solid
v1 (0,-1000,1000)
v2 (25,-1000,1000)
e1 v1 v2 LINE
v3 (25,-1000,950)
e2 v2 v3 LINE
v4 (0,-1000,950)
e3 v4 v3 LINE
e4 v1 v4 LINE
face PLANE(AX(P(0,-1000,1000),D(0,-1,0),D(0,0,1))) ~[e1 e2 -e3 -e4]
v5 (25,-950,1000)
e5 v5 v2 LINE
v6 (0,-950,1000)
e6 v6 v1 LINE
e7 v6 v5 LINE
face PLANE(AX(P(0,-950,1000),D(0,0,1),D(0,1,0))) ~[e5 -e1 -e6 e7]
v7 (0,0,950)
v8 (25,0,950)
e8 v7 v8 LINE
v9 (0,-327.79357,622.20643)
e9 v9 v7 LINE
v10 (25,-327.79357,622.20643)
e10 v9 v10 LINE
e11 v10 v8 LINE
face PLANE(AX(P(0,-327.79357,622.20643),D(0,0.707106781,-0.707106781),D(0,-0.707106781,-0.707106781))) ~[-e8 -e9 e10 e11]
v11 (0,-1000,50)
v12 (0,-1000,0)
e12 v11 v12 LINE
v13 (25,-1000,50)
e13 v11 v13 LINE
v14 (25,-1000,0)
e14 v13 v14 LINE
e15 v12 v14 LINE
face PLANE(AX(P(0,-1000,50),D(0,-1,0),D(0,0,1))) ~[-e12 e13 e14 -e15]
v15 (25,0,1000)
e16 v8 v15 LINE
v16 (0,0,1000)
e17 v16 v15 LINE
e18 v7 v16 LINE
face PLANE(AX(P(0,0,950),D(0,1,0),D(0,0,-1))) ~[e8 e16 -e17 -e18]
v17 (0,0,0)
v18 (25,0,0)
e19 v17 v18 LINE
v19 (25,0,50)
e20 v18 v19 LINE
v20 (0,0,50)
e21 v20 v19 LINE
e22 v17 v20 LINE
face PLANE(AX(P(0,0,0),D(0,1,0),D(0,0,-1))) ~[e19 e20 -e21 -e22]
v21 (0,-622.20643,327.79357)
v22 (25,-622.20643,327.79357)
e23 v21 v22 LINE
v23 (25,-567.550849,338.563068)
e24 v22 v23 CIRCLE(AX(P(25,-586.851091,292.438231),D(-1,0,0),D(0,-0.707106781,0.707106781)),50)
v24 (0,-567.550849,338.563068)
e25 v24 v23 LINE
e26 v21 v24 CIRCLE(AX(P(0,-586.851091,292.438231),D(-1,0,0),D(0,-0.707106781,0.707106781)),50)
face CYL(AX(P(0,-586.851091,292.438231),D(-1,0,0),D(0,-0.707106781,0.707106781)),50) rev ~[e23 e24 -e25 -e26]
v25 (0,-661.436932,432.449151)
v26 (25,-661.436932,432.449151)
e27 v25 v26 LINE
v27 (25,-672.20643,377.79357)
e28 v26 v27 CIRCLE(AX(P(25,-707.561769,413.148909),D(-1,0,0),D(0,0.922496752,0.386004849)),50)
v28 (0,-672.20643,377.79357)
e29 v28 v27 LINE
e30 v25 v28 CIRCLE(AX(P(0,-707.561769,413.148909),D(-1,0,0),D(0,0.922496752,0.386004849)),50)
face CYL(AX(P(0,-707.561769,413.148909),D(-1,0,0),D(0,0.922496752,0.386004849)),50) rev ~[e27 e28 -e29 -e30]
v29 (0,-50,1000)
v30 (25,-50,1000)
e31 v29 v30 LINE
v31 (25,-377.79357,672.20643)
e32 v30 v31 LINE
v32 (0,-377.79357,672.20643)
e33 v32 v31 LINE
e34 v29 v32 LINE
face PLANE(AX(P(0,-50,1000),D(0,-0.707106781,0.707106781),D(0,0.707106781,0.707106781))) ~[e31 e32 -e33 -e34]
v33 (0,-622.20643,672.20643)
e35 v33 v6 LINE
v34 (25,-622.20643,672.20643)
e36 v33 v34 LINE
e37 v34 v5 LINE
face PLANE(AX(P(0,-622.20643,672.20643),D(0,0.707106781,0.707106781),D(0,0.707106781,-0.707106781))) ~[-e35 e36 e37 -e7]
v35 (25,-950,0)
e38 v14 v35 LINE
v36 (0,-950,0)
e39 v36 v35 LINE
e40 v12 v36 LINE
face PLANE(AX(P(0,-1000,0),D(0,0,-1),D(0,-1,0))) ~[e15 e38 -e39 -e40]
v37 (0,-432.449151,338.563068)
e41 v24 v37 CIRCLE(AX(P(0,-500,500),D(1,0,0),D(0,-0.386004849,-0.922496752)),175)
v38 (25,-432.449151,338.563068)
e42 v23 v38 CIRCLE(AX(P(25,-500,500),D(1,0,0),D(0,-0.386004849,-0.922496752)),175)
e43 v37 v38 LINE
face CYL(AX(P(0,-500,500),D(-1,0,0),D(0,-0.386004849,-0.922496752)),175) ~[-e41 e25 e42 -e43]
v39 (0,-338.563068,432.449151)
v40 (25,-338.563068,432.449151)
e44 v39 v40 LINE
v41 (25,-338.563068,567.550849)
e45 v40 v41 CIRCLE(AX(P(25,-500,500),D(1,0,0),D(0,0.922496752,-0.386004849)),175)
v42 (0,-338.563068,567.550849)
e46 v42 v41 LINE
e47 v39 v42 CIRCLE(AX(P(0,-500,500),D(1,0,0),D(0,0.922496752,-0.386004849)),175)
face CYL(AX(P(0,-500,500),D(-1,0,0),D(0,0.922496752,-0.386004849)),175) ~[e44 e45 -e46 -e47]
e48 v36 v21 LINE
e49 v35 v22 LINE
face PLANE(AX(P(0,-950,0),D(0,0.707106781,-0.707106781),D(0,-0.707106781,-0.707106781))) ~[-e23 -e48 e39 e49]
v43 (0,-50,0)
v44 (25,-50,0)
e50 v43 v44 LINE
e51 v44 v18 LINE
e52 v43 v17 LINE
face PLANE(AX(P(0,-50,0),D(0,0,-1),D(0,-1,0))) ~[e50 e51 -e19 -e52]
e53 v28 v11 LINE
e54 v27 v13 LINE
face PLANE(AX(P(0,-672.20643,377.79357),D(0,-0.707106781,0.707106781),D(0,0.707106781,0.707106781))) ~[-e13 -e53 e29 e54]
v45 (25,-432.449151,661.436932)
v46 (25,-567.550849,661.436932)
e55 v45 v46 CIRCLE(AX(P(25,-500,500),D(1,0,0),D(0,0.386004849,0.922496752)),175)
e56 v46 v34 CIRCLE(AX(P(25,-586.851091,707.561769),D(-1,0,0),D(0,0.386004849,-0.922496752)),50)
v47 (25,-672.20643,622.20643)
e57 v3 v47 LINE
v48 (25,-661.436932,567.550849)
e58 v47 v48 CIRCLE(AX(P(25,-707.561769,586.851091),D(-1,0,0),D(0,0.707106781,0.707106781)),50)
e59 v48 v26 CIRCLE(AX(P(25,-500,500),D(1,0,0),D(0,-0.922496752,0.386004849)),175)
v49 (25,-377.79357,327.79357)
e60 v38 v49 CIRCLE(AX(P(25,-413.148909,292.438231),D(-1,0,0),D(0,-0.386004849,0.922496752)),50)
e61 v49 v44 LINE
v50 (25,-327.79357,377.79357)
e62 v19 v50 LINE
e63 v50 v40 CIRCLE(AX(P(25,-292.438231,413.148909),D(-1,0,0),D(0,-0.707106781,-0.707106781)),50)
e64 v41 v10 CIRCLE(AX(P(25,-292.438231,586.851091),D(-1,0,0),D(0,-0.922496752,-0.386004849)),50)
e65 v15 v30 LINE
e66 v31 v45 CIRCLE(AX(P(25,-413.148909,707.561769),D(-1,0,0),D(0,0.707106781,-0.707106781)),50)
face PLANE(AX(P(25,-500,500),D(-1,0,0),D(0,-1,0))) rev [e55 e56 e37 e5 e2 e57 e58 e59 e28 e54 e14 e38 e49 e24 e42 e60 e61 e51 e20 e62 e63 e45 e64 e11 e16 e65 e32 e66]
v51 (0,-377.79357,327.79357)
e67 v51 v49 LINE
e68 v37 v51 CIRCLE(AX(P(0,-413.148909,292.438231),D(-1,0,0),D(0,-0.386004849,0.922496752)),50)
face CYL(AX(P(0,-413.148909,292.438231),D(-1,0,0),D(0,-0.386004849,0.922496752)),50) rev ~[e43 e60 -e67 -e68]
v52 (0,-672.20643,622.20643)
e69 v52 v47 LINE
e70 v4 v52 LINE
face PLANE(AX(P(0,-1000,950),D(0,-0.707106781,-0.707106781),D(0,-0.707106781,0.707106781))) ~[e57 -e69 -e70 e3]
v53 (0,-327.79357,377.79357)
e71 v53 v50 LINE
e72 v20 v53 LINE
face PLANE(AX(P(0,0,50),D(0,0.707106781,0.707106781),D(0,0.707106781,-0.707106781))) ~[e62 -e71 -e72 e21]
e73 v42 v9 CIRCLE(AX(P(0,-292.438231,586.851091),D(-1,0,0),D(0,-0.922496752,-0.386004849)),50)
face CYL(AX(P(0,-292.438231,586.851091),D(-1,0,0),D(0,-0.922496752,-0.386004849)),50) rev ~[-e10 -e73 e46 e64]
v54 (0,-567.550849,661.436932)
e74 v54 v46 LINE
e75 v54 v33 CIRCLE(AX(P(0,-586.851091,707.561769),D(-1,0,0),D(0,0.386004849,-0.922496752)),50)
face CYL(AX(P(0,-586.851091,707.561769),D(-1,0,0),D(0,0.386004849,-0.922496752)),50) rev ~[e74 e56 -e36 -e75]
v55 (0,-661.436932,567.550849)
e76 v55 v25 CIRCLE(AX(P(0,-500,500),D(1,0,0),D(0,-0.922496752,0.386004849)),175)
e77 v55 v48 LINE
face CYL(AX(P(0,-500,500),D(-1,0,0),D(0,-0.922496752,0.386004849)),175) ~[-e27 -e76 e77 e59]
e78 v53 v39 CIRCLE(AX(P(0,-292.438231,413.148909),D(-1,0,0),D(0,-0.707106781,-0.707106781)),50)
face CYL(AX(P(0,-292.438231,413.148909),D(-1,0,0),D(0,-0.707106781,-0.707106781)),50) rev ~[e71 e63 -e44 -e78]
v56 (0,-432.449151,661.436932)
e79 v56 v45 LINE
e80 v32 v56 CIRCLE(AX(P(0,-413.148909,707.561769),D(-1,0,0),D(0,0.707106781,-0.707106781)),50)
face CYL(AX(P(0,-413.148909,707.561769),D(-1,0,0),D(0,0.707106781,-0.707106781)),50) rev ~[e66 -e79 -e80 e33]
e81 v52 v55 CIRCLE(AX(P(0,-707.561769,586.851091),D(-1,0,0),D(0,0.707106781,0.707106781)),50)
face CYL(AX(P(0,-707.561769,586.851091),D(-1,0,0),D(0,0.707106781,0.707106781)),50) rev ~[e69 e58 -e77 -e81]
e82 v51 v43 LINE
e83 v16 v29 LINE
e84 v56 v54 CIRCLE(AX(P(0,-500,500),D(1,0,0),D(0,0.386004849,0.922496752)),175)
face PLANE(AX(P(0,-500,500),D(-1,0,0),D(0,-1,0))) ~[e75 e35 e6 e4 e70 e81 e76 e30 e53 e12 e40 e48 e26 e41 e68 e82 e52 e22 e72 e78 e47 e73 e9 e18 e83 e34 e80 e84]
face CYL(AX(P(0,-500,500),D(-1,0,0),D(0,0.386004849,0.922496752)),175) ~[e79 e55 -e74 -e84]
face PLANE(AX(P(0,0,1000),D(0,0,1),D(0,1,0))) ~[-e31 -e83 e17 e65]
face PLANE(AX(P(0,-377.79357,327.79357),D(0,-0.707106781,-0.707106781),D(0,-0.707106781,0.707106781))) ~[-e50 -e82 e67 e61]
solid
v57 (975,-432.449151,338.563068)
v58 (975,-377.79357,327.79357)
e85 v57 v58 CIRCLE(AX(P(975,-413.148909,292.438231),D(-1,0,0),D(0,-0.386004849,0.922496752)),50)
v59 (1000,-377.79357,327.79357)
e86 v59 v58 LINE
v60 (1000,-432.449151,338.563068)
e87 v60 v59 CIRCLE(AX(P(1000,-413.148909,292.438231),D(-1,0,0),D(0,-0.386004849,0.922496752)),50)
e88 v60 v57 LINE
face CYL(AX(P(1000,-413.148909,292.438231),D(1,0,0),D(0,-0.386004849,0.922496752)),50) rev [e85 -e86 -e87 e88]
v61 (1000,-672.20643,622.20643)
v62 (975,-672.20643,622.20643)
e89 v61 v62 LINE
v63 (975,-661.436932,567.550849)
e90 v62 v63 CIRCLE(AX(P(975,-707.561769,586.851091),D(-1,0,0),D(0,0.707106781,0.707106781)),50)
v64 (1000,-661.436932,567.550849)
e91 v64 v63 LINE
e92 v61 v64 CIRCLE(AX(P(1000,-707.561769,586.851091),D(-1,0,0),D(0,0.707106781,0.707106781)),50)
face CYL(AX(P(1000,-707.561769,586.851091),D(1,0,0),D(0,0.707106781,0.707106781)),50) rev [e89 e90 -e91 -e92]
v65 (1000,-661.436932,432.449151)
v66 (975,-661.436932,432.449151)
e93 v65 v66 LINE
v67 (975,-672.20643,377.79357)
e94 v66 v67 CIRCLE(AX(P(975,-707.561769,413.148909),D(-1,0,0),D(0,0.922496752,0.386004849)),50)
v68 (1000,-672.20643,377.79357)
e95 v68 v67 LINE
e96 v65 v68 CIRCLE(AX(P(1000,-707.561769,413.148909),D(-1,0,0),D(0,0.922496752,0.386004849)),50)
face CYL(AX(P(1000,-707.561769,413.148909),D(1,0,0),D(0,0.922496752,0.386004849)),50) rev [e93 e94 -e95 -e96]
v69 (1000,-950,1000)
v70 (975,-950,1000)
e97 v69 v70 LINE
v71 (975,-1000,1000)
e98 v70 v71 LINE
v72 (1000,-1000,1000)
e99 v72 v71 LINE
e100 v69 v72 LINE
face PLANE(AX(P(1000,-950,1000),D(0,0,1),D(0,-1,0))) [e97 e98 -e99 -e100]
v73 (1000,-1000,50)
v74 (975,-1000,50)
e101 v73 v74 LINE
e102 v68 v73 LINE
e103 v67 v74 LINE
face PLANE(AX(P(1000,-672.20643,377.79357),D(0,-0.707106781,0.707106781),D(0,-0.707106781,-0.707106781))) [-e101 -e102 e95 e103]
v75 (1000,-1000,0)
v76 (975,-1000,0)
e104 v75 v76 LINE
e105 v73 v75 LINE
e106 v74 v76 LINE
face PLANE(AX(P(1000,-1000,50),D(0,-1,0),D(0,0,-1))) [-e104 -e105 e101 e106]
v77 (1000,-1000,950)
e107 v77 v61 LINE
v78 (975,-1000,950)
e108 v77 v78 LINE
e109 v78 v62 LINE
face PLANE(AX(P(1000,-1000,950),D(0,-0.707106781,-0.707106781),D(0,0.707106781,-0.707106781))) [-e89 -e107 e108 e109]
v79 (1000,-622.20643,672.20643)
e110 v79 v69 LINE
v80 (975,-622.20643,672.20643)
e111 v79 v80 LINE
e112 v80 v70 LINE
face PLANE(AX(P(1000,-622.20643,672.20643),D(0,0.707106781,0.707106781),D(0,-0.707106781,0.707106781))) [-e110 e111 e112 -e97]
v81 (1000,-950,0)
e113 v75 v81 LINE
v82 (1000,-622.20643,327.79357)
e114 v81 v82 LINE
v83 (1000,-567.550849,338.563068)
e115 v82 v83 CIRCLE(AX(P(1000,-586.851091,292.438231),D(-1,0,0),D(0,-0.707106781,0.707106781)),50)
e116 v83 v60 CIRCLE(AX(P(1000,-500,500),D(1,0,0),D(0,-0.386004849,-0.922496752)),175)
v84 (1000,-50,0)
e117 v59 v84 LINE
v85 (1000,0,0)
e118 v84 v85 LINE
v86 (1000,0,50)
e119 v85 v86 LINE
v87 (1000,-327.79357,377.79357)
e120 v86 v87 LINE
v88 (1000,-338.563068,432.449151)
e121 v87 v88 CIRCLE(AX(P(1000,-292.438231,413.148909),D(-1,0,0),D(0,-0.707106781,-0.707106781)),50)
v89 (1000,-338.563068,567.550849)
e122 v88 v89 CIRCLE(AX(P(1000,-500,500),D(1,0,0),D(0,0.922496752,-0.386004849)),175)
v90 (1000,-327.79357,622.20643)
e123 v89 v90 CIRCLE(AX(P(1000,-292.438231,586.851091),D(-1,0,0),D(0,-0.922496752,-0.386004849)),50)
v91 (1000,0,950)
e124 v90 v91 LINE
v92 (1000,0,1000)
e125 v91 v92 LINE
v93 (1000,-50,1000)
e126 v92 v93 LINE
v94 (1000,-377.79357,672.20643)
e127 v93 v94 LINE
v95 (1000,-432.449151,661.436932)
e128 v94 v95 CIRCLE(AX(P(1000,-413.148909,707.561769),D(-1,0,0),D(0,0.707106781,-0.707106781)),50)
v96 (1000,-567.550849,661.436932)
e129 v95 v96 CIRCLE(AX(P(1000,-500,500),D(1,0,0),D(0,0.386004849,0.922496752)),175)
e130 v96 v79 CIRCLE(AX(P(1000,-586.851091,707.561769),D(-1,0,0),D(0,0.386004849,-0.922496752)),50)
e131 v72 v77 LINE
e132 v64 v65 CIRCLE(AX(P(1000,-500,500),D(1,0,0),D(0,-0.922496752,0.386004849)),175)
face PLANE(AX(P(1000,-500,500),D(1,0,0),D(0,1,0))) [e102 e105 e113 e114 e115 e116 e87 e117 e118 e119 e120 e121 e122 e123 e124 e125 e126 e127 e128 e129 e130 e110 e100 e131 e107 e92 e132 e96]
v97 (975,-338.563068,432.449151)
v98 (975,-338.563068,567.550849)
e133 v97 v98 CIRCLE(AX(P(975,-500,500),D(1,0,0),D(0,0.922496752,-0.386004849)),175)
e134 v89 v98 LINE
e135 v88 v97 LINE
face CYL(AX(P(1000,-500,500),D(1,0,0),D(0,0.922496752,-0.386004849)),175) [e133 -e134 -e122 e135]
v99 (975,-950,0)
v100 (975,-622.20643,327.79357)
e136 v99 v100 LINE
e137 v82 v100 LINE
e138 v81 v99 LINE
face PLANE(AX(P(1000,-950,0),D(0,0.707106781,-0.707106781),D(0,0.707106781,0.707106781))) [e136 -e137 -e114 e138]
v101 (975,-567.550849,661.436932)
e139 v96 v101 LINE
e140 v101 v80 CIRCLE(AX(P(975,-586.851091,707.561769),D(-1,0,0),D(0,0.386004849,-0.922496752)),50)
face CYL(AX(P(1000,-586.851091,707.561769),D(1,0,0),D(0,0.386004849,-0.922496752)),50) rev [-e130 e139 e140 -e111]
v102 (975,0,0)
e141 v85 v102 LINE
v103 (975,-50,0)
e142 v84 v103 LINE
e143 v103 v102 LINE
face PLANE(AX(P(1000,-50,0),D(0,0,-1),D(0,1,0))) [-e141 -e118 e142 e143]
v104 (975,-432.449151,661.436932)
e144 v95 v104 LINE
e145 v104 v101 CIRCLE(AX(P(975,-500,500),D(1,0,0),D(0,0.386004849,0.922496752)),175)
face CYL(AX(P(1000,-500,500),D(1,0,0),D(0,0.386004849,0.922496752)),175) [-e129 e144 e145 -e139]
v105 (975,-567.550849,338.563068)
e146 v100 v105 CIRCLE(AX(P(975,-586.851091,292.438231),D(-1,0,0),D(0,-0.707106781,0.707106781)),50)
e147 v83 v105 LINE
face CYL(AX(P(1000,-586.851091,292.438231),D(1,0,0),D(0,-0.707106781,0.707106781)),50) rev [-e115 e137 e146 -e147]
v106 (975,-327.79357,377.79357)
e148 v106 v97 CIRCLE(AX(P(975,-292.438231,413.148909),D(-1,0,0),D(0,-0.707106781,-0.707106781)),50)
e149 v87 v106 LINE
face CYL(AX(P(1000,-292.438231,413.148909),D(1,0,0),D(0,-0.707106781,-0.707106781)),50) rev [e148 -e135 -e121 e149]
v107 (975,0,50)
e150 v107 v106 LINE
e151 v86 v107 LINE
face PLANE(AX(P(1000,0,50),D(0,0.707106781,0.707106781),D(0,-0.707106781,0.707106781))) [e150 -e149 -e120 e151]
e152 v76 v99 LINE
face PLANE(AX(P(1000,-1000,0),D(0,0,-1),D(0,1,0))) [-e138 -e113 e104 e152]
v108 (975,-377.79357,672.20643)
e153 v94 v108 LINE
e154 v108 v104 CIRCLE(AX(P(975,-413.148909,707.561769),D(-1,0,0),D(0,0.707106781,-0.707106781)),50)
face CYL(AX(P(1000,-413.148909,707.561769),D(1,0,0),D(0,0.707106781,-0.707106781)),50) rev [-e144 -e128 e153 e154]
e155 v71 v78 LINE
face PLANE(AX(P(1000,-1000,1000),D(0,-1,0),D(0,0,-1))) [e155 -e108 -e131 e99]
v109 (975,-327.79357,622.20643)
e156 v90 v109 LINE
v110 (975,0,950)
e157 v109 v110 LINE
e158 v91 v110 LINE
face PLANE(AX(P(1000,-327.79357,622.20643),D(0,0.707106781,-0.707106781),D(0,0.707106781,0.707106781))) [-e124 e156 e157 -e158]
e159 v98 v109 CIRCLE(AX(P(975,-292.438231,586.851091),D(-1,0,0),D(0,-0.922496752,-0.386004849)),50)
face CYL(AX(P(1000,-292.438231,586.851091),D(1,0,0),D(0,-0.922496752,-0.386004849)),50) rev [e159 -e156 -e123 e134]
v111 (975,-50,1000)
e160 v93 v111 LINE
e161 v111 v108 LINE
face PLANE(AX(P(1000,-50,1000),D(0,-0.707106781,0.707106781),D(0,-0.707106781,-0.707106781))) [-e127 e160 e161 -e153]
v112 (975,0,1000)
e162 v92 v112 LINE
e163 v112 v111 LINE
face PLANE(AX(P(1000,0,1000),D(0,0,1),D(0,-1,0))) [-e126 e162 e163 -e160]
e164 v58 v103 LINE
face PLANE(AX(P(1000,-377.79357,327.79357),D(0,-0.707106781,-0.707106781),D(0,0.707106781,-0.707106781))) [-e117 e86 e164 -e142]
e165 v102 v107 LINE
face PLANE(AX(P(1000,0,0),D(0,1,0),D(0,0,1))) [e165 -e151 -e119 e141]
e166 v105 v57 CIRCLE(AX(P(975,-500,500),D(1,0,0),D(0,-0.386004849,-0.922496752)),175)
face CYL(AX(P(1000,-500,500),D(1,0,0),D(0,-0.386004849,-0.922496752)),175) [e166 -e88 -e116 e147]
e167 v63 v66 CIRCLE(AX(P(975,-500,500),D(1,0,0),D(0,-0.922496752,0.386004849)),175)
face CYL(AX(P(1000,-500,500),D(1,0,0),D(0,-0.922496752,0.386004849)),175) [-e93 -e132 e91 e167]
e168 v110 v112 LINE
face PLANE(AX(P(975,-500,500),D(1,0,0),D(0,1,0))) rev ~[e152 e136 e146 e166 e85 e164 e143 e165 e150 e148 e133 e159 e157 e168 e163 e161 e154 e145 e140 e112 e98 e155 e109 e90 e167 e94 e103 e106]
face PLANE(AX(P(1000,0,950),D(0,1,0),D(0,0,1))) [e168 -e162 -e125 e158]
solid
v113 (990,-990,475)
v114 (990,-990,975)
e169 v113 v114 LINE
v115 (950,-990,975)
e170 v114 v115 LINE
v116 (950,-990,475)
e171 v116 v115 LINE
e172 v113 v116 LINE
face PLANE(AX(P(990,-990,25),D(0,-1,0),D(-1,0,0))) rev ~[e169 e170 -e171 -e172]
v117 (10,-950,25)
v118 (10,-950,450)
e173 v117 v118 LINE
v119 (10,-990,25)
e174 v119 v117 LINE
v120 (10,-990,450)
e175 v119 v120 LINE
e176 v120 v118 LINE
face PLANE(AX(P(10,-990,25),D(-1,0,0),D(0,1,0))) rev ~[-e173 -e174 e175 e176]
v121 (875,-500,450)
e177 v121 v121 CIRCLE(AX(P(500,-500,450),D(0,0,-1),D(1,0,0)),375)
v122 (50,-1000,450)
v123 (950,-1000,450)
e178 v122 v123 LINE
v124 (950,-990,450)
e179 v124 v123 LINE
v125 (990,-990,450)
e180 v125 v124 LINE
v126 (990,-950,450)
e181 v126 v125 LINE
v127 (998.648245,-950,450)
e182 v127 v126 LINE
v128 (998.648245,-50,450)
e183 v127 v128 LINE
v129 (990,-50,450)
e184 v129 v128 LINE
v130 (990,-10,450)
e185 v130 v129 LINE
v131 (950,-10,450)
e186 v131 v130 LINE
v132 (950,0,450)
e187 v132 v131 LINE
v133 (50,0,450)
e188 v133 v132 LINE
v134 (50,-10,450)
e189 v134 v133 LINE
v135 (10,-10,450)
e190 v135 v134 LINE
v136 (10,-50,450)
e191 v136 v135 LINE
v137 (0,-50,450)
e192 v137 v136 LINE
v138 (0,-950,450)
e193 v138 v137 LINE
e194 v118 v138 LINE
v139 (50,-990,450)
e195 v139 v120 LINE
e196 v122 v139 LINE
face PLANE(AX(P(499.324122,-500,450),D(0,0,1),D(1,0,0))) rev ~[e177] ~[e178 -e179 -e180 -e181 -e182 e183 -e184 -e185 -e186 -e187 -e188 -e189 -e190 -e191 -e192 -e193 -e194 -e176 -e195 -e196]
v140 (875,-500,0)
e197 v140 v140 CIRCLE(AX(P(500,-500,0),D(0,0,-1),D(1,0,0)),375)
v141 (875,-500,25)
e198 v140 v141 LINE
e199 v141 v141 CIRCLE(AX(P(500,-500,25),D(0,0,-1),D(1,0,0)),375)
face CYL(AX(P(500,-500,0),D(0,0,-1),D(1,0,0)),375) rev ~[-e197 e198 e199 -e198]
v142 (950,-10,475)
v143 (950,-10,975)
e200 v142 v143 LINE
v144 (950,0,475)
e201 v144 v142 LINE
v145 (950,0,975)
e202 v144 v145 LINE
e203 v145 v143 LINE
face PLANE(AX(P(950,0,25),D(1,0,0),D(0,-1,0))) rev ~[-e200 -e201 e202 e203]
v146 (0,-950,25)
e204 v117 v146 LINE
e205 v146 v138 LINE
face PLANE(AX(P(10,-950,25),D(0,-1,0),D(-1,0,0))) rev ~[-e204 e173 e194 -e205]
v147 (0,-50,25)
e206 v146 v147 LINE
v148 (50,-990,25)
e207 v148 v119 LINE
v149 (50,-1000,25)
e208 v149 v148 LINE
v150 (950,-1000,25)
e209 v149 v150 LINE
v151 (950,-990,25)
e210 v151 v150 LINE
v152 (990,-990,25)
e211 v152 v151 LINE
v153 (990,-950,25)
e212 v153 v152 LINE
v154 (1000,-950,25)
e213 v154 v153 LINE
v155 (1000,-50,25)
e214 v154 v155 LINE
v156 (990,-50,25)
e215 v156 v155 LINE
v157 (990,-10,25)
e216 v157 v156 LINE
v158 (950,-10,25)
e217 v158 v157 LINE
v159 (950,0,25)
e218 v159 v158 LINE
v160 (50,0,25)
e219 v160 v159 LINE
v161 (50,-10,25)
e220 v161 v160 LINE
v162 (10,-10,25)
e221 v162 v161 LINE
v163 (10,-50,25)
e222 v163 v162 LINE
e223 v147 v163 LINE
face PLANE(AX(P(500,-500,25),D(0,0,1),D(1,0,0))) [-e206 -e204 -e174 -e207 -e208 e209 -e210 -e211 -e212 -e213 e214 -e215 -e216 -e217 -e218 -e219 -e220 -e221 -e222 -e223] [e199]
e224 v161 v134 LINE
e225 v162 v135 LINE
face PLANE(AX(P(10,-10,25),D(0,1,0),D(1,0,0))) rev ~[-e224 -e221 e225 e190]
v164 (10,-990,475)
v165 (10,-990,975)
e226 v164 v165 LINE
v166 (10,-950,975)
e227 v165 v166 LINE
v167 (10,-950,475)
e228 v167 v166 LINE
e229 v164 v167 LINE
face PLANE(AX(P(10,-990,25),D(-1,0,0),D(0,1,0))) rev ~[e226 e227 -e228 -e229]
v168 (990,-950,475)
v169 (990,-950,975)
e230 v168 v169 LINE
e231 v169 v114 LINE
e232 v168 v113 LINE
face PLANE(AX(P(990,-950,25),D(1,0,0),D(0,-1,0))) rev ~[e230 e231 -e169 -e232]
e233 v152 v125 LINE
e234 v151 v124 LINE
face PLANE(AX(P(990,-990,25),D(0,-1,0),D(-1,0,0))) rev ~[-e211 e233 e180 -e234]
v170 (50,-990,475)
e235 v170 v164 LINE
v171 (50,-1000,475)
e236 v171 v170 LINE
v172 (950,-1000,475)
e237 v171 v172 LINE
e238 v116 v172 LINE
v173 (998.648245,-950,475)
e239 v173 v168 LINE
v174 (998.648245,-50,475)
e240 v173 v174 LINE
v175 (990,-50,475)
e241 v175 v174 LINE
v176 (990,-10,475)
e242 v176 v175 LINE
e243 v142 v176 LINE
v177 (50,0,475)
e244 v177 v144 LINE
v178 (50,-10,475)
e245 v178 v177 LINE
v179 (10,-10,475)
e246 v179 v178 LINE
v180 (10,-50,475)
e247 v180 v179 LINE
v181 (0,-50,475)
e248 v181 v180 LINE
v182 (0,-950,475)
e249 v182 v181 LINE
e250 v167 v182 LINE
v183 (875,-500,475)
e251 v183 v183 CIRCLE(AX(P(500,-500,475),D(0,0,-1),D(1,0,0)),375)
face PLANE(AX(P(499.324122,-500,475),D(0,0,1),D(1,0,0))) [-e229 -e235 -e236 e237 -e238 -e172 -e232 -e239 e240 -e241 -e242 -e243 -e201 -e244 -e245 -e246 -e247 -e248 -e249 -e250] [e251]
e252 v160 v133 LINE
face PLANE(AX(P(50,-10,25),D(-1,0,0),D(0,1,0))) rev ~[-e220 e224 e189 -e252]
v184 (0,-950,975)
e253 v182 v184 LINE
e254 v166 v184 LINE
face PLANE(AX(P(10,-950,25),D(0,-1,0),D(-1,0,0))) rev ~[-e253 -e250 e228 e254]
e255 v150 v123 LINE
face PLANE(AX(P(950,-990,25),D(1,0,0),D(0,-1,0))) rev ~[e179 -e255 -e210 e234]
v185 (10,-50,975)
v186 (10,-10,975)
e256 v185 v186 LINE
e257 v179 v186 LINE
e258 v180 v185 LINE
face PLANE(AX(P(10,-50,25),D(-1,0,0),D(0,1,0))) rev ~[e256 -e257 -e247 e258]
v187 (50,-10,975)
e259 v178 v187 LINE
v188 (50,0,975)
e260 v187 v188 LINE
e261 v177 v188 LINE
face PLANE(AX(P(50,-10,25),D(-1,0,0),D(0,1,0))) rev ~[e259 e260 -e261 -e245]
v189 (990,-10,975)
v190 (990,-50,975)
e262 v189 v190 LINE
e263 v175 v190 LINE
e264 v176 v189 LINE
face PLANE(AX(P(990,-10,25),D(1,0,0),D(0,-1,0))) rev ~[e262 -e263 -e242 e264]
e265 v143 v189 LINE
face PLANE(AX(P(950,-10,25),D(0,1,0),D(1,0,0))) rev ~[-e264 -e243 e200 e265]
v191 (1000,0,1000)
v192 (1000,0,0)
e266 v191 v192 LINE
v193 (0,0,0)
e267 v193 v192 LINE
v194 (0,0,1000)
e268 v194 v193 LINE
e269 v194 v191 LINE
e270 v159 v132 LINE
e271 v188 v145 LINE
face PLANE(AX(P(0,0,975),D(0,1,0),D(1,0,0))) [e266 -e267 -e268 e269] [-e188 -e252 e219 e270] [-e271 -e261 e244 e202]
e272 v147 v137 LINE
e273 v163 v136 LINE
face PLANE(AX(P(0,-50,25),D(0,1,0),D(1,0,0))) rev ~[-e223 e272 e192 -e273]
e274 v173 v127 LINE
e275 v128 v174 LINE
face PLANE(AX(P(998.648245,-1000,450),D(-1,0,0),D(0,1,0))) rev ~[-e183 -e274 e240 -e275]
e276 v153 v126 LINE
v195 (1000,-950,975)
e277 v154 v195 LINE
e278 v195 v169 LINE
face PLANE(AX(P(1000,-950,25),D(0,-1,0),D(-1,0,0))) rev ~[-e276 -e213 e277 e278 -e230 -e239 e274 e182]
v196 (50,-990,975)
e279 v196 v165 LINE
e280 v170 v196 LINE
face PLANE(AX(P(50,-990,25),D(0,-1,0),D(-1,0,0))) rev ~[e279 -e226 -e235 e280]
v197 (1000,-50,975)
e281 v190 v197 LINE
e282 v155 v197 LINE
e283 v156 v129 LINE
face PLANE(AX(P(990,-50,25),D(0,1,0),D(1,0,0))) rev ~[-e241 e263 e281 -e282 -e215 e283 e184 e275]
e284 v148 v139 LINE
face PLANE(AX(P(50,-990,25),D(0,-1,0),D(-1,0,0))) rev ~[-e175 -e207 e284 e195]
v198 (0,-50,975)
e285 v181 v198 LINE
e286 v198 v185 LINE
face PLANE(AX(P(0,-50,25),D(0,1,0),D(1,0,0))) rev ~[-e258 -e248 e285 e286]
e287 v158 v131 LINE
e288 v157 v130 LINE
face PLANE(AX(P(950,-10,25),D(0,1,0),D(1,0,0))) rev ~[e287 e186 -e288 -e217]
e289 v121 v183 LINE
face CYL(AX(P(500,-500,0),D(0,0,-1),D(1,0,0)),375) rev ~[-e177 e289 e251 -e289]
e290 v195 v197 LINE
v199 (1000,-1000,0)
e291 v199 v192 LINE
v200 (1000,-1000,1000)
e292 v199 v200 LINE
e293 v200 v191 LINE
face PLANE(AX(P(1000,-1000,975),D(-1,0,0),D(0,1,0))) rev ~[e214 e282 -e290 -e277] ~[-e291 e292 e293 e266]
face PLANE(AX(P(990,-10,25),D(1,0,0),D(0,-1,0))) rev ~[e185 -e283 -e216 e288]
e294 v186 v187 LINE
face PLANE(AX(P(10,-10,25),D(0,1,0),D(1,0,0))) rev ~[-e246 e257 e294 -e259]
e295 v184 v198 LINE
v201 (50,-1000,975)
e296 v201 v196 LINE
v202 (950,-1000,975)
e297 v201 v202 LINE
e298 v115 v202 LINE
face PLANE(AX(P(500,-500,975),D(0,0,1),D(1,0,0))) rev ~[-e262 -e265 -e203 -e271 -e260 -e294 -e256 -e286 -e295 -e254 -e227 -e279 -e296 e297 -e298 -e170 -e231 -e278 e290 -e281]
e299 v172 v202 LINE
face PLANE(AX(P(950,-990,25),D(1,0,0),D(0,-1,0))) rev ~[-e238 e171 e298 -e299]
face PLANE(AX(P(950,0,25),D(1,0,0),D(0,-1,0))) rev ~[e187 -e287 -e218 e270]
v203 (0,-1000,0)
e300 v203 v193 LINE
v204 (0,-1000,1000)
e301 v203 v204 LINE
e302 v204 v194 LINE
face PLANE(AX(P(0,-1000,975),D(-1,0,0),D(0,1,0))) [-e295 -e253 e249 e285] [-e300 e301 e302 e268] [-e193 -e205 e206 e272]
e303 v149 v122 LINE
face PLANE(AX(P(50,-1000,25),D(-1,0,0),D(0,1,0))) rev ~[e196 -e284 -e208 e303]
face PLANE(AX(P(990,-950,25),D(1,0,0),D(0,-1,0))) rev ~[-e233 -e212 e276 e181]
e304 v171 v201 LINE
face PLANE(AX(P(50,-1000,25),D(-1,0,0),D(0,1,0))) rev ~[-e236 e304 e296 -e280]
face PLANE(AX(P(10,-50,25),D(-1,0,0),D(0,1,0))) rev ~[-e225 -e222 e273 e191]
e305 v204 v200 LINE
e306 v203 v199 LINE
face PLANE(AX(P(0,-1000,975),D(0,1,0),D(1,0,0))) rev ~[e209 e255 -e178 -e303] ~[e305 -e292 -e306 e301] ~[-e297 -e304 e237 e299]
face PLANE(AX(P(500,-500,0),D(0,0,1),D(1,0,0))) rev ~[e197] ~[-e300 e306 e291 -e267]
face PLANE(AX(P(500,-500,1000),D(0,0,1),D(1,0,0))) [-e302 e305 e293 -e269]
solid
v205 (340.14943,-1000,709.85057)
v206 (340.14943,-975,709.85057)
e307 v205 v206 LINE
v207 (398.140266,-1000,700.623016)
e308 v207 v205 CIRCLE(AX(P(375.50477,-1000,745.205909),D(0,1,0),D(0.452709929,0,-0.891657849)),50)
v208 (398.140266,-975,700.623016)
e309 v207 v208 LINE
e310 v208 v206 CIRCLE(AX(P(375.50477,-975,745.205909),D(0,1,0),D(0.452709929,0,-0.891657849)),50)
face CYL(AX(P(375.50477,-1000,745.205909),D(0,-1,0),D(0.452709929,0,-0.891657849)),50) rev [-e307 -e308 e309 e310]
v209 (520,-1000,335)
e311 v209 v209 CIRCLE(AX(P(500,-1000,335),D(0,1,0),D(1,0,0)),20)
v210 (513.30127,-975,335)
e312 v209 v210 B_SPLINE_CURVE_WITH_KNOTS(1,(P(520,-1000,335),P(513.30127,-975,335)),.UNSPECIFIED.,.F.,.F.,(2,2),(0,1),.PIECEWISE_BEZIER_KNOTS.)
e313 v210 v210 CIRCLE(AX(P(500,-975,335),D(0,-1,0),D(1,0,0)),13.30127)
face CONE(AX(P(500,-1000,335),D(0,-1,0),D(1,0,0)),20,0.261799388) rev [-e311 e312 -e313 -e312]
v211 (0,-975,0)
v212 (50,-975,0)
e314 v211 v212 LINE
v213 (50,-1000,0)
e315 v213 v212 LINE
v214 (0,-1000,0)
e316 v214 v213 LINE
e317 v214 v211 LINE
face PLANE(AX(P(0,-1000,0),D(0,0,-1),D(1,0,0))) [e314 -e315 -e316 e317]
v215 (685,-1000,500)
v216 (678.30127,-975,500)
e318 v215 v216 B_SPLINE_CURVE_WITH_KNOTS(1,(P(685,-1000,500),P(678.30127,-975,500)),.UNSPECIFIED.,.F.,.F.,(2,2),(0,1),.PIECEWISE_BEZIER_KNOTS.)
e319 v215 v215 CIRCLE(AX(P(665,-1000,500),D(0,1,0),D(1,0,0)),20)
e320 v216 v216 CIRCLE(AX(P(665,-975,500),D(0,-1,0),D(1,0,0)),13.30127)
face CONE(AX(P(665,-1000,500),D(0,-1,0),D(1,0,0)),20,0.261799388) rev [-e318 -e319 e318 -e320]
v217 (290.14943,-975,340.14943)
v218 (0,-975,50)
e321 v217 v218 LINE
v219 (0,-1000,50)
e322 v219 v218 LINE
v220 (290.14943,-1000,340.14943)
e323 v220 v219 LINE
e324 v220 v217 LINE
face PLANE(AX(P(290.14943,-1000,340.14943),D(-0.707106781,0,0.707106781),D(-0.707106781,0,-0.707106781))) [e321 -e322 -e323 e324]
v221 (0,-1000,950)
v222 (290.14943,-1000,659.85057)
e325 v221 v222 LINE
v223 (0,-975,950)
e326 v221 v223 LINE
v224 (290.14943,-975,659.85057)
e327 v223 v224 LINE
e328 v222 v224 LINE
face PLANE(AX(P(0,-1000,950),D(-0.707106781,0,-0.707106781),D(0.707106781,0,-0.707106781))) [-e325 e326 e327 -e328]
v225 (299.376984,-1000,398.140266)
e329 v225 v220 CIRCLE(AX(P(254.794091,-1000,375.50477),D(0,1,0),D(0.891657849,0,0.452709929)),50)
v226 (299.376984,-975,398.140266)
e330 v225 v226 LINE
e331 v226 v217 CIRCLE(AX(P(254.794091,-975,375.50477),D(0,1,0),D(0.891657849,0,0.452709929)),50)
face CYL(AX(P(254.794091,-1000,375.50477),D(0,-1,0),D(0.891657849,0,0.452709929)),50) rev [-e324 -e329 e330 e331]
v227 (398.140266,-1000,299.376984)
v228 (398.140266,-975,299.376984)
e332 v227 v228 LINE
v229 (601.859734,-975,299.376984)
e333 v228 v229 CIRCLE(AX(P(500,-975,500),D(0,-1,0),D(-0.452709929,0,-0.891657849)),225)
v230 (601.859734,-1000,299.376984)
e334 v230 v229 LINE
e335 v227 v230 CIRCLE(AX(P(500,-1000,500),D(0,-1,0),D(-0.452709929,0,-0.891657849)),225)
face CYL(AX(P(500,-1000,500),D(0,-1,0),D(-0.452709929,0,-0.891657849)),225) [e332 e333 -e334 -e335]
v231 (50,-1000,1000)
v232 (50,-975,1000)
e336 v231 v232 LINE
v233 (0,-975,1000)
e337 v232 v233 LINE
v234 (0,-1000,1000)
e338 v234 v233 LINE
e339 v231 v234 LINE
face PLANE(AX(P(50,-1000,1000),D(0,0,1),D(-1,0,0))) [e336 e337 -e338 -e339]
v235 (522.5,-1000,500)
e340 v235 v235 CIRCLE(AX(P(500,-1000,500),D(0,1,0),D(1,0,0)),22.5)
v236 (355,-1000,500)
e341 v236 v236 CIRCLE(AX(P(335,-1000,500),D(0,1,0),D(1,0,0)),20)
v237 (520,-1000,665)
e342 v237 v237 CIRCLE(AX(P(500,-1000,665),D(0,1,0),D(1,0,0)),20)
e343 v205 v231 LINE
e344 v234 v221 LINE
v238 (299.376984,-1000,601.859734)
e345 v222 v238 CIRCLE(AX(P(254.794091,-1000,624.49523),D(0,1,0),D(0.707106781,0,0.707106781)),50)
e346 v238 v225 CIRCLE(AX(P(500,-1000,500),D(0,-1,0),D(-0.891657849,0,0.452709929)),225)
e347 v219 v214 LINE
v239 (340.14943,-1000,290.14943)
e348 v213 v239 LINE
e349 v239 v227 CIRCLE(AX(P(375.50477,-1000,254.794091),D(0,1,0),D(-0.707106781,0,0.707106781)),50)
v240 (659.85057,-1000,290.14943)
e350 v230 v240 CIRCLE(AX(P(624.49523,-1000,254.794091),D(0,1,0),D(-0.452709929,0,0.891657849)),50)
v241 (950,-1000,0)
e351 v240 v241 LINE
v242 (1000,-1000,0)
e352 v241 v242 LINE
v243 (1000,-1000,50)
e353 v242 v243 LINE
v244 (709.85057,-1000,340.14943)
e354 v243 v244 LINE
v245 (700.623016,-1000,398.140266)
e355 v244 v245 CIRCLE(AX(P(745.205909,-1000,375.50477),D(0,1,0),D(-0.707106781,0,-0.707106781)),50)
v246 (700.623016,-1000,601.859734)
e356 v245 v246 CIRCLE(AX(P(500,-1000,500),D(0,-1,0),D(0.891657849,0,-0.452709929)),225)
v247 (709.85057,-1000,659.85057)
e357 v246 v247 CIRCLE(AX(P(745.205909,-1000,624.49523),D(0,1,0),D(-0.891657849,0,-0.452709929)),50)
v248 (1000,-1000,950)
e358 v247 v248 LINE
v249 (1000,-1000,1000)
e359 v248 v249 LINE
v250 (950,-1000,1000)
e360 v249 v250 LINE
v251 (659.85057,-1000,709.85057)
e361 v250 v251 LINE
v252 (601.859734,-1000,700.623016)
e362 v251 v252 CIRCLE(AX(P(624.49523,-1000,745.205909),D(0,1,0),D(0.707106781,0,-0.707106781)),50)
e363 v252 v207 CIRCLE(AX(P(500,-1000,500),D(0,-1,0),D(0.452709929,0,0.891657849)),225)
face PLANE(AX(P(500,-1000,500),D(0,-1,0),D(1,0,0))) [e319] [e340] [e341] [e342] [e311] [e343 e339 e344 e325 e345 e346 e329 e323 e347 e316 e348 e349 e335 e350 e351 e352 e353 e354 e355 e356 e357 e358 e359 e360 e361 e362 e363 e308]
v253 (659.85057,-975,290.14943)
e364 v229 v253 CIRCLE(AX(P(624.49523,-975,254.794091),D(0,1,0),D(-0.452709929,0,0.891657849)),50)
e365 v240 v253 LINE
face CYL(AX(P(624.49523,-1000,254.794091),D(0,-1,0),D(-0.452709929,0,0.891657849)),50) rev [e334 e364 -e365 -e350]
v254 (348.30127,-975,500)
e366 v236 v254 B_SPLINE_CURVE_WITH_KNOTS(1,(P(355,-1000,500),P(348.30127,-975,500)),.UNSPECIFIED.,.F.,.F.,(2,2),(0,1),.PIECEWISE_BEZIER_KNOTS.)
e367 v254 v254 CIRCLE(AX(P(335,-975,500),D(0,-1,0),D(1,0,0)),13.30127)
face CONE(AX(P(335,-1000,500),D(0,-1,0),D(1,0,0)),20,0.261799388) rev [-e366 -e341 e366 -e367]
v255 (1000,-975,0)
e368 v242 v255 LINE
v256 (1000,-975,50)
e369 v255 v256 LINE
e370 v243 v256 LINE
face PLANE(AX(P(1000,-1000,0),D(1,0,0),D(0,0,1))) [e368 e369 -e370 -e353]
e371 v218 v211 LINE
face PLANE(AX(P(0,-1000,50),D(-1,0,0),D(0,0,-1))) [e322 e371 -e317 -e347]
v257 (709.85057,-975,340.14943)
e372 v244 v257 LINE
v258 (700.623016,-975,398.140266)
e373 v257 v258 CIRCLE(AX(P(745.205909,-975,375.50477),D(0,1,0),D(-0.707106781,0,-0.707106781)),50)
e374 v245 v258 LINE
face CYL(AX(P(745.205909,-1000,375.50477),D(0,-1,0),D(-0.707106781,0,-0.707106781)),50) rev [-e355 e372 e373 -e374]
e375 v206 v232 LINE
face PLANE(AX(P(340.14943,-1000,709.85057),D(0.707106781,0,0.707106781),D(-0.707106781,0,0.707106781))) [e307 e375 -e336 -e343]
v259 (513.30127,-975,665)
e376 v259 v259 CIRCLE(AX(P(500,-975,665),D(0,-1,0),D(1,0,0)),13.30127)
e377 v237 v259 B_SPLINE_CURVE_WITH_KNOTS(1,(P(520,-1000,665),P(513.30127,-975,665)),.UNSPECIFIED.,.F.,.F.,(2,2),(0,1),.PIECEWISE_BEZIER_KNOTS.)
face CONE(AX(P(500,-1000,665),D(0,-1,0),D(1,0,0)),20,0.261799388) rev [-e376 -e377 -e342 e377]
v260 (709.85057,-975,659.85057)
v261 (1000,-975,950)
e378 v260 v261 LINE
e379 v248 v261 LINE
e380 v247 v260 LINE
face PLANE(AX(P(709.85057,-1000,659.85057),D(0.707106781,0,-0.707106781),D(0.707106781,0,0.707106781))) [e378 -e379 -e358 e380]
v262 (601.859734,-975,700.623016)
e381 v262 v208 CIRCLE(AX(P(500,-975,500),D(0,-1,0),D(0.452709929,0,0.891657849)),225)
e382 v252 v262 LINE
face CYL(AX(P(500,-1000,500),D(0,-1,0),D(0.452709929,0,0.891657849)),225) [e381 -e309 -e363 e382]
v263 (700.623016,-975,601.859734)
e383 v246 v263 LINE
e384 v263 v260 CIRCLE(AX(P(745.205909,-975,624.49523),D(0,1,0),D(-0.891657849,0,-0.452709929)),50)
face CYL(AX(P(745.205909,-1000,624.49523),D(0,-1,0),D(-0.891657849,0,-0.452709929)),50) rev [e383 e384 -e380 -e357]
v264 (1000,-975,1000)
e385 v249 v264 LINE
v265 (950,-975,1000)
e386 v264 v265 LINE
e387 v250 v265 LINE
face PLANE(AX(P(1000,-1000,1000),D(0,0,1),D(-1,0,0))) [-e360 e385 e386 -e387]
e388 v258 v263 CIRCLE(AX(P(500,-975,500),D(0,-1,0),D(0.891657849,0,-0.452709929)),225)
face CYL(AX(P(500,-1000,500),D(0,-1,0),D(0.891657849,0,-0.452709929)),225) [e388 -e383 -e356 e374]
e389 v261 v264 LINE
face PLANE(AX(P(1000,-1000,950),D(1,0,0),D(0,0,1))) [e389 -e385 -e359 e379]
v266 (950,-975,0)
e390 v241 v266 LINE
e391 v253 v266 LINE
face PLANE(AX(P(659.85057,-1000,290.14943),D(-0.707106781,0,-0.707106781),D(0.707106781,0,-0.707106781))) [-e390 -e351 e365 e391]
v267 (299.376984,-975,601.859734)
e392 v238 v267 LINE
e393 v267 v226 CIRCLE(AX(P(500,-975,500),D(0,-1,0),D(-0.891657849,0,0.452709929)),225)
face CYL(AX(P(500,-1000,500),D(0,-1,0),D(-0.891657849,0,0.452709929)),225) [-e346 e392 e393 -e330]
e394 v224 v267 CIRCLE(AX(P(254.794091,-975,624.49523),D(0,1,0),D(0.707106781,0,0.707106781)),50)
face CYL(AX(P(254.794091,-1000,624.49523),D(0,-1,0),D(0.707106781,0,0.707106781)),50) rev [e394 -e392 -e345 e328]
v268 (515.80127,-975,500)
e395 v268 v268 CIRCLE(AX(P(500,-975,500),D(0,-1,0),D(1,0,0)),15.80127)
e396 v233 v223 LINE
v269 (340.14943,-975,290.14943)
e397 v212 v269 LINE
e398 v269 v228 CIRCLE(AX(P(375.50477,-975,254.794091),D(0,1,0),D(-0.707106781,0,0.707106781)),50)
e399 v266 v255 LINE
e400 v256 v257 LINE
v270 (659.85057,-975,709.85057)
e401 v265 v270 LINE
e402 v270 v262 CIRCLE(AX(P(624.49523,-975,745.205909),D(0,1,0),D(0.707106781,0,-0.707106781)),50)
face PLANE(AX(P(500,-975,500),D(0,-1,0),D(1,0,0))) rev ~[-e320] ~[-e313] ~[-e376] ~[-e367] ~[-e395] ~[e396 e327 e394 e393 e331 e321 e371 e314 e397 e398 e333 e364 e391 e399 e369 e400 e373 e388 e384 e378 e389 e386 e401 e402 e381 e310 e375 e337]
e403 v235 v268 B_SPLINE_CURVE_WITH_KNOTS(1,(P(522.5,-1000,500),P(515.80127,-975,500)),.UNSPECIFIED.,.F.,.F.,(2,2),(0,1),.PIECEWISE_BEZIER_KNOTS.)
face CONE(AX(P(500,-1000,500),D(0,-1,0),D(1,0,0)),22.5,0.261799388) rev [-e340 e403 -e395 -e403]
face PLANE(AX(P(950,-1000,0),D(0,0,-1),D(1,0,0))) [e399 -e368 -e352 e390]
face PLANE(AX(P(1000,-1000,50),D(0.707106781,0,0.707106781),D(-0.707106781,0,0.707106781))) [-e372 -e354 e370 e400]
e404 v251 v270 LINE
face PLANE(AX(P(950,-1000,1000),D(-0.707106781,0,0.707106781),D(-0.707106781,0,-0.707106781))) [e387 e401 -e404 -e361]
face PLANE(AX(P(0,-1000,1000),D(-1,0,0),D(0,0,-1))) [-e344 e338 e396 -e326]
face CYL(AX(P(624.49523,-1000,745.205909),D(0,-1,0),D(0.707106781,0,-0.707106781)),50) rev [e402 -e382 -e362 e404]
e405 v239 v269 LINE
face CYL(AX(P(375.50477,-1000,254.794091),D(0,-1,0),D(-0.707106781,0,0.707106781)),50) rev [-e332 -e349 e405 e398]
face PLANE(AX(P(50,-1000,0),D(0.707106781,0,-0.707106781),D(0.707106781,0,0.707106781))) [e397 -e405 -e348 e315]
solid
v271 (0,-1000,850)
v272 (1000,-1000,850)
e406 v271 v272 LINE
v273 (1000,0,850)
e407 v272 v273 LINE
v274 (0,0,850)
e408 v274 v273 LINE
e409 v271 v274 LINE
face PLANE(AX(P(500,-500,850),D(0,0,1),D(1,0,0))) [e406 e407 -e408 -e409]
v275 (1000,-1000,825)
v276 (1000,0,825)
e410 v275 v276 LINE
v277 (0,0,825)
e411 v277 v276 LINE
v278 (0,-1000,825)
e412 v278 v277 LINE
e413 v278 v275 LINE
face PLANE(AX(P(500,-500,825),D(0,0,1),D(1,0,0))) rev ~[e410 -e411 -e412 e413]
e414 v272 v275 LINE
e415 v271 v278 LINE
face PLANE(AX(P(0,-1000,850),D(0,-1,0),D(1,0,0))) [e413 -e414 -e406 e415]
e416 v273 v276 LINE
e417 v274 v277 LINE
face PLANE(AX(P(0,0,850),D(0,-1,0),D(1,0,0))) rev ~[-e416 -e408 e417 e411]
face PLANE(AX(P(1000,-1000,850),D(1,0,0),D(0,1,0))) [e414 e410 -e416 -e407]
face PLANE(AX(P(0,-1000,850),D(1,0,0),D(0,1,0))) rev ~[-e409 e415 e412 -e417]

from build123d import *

# Parameters (mm, degrees)
F0_W      = 1000
F0_H      = 1000
F1_DEPTH  = 25
F3_DEPTH  = 950
F5_W      = 998.6482446112
F5_H      = 1000
F6_DEPTH  = 25
F8_W      = 1000
F8_H      = 1000
F9_DEPTH  = 25
F10_W     = 1000
F10_H     = 1000
F11_DEPTH = 25
F12_R     = 375
F13_DEPTH = 592
F15_DEPTH = 25
F16_R     = 22.5
F16_R_2   = 20
F17_DEPTH = 25
F17_TAPER = 15
F19_DEPTH = 25


with BuildPart() as f1:
    # F0 (on Top) → F1 (new body)
    with BuildSketch(Plane.XY):
        with Locations((500, -500)):
            Rectangle(F0_W, F0_H)
    extrude(amount=F1_DEPTH)

    # F2 (on face) → F3 (join)
    with BuildSketch(Plane.XY.offset(25)):
        Polygon((0, -950), (0, -1000), (50, -1000), (50, -990), (10, -990), (10, -950), align=None)
        Polygon((50, -10), (50, 0), (0, 0), (0, -50), (10, -50), (10, -10), align=None)
        Polygon((990, -990), (950, -990), (950, -1000), (1000, -1000), (1000, -950), (990, -950), align=None)
        Polygon((1000, -50), (1000, 0), (950, 0), (950, -10), (990, -10), (990, -50), align=None)
    extrude(amount=F3_DEPTH)

    # F5 (on offset) → F6 (join)
    with BuildSketch(Plane.XY.offset(450)):
        with Locations((499.3241223056, -500)):
            Rectangle(F5_W, F5_H)
    extrude(amount=F6_DEPTH)

    # F10 (on face) → F11 (join)
    with BuildSketch(Plane.XY.offset(975)):
        with Locations((500, -500)):
            Rectangle(F10_W, F10_H)
    extrude(amount=F11_DEPTH)

    # F12 (on face) → F13 (cut)
    with BuildSketch(Plane(origin=(0, 0, 0), x_dir=(1, 0, 0), z_dir=(0, 0, -1))):
        with Locations((500, 500)):
            Circle(F12_R)
    extrude(amount=-F13_DEPTH, mode=Mode.SUBTRACT)


with BuildPart() as f9:
    # F8 (on offset) → F9 (new body)
    with BuildSketch(Plane.XY.offset(850)):
        with Locations((500, -500)):
            Rectangle(F8_W, F8_H)
    extrude(amount=-F9_DEPTH)


with BuildPart() as f15:
    # F14 (on face) → F15 (new body)
    with BuildSketch(Plane.XZ.offset(1000)):
        with BuildLine():
            Line((950, 0), (1000, 0))
            Line((1000, 0), (1000, 50))
            Line((1000, 50), (709.8505695069, 340.1494304931))
            ThreePointArc((709.8505695069, 340.1494304931), (695.8271229848, 367.647573201), (700.6230160997, 398.1402659974))
            ThreePointArc((700.6230160997, 398.1402659974), (725, 500), (700.6230160997, 601.8597340026))
            ThreePointArc((700.6230160997, 601.8597340026), (695.8271229848, 632.352426799), (709.8505695069, 659.8505695069))
            Line((709.8505695069, 659.8505695069), (1000, 950))
            Line((1000, 950), (1000, 1000))
            Line((1000, 1000), (950, 1000))
            Line((950, 1000), (659.8505695069, 709.8505695069))
            ThreePointArc((659.8505695069, 709.8505695069), (632.352426799, 695.8271229848), (601.8597340026, 700.6230160997))
            ThreePointArc((601.8597340026, 700.6230160997), (500, 725), (398.1402659974, 700.6230160997))
            ThreePointArc((398.1402659974, 700.6230160997), (367.647573201, 695.8271229848), (340.1494304931, 709.8505695069))
            Line((340.1494304931, 709.8505695069), (50, 1000))
            Line((50, 1000), (0, 1000))
            Line((0, 1000), (0, 950))
            Line((0, 950), (290.1494304931, 659.8505695069))
            ThreePointArc((290.1494304931, 659.8505695069), (304.1728770152, 632.352426799), (299.3769839003, 601.8597340026))
            ThreePointArc((299.3769839003, 601.8597340026), (275, 500), (299.3769839003, 398.1402659974))
            ThreePointArc((299.3769839003, 398.1402659974), (304.1728770152, 367.647573201), (290.1494304931, 340.1494304931))
            Line((290.1494304931, 340.1494304931), (0, 50))
            Line((0, 50), (0, 0))
            Line((0, 0), (50, 0))
            Line((50, 0), (340.1494304931, 290.1494304931))
            ThreePointArc((340.1494304931, 290.1494304931), (367.647573201, 304.1728770152), (398.1402659974, 299.3769839003))
            ThreePointArc((398.1402659974, 299.3769839003), (500, 275), (601.8597340026, 299.3769839003))
            ThreePointArc((601.8597340026, 299.3769839003), (632.352426799, 304.1728770152), (659.8505695069, 290.1494304931))
            Line((659.8505695069, 290.1494304931), (950, 0))
        make_face()
    extrude(amount=-F15_DEPTH)

    # F16 (on face) → F17 (cut)
    with BuildSketch(Plane.XZ.offset(1000)):
        with Locations((500, 500)):
            Circle(F16_R)
        with Locations((500, 665)):
            Circle(F16_R_2)
        with Locations((335, 500)):
            Circle(F16_R_2)
        with Locations((500, 335)):
            Circle(F16_R_2)
        with Locations((665, 500)):
            Circle(F16_R_2)
    extrude(amount=-F17_DEPTH, taper=F17_TAPER, mode=Mode.SUBTRACT)


with BuildPart() as f19:
    # F18 (on face) → F19 (new body)
    with BuildSketch(Plane.YZ.offset(1000)):
        with BuildLine():
            Line((-950, 1000), (-1000, 1000))
            Line((-1000, 1000), (-1000, 950))
            Line((-1000, 950), (-672.2064300465, 622.2064300465))
            ThreePointArc((-672.2064300465, 622.2064300465), (-658.5050372176, 596.5173755083), (-661.4369315268, 567.5508485456))
            ThreePointArc((-661.4369315268, 567.5508485456), (-675, 500), (-661.4369315268, 432.4491514544))
            ThreePointArc((-661.4369315268, 432.4491514544), (-658.5050372176, 403.4826244917), (-672.2064300465, 377.7935699535))
            Line((-672.2064300465, 377.7935699535), (-1000, 50))
            Line((-1000, 50), (-1000, 0))
            Line((-1000, 0), (-950, 0))
            Line((-950, 0), (-622.2064300465, 327.7935699535))
            ThreePointArc((-622.2064300465, 327.7935699535), (-596.5173755083, 341.4949627824), (-567.5508485456, 338.5630684732))
            ThreePointArc((-567.5508485456, 338.5630684732), (-500, 325), (-432.4491514544, 338.5630684732))
            ThreePointArc((-432.4491514544, 338.5630684732), (-403.4826244917, 341.4949627824), (-377.7935699535, 327.7935699535))
            Line((-377.7935699535, 327.7935699535), (-50, 0))
            Line((-50, 0), (0, 0))
            Line((0, 0), (0, 50))
            Line((0, 50), (-327.7935699535, 377.7935699535))
            ThreePointArc((-327.7935699535, 377.7935699535), (-341.4949627824, 403.4826244917), (-338.5630684732, 432.4491514544))
            ThreePointArc((-338.5630684732, 432.4491514544), (-325, 500), (-338.5630684732, 567.5508485456))
            ThreePointArc((-338.5630684732, 567.5508485456), (-341.4949627824, 596.5173755083), (-327.7935699535, 622.2064300465))
            Line((-327.7935699535, 622.2064300465), (0, 950))
            Line((0, 950), (0, 1000))
            Line((0, 1000), (-50, 1000))
            Line((-50, 1000), (-377.7935699535, 672.2064300465))
            ThreePointArc((-377.7935699535, 672.2064300465), (-403.4826244917, 658.5050372176), (-432.4491514544, 661.4369315268))
            ThreePointArc((-432.4491514544, 661.4369315268), (-500, 675), (-567.5508485456, 661.4369315268))
            ThreePointArc((-567.5508485456, 661.4369315268), (-596.5173755083, 658.5050372176), (-622.2064300465, 672.2064300465))
            Line((-622.2064300465, 672.2064300465), (-950, 1000))
        make_face()
    extrude(amount=-F19_DEPTH)


with BuildPart() as f21_1:
    # F21: instance of F19
    add(f19.part.mirror(Plane.YZ.offset(500)))


solid = Compound([f1.part, f9.part, f15.part, f19.part, f21_1.part])
